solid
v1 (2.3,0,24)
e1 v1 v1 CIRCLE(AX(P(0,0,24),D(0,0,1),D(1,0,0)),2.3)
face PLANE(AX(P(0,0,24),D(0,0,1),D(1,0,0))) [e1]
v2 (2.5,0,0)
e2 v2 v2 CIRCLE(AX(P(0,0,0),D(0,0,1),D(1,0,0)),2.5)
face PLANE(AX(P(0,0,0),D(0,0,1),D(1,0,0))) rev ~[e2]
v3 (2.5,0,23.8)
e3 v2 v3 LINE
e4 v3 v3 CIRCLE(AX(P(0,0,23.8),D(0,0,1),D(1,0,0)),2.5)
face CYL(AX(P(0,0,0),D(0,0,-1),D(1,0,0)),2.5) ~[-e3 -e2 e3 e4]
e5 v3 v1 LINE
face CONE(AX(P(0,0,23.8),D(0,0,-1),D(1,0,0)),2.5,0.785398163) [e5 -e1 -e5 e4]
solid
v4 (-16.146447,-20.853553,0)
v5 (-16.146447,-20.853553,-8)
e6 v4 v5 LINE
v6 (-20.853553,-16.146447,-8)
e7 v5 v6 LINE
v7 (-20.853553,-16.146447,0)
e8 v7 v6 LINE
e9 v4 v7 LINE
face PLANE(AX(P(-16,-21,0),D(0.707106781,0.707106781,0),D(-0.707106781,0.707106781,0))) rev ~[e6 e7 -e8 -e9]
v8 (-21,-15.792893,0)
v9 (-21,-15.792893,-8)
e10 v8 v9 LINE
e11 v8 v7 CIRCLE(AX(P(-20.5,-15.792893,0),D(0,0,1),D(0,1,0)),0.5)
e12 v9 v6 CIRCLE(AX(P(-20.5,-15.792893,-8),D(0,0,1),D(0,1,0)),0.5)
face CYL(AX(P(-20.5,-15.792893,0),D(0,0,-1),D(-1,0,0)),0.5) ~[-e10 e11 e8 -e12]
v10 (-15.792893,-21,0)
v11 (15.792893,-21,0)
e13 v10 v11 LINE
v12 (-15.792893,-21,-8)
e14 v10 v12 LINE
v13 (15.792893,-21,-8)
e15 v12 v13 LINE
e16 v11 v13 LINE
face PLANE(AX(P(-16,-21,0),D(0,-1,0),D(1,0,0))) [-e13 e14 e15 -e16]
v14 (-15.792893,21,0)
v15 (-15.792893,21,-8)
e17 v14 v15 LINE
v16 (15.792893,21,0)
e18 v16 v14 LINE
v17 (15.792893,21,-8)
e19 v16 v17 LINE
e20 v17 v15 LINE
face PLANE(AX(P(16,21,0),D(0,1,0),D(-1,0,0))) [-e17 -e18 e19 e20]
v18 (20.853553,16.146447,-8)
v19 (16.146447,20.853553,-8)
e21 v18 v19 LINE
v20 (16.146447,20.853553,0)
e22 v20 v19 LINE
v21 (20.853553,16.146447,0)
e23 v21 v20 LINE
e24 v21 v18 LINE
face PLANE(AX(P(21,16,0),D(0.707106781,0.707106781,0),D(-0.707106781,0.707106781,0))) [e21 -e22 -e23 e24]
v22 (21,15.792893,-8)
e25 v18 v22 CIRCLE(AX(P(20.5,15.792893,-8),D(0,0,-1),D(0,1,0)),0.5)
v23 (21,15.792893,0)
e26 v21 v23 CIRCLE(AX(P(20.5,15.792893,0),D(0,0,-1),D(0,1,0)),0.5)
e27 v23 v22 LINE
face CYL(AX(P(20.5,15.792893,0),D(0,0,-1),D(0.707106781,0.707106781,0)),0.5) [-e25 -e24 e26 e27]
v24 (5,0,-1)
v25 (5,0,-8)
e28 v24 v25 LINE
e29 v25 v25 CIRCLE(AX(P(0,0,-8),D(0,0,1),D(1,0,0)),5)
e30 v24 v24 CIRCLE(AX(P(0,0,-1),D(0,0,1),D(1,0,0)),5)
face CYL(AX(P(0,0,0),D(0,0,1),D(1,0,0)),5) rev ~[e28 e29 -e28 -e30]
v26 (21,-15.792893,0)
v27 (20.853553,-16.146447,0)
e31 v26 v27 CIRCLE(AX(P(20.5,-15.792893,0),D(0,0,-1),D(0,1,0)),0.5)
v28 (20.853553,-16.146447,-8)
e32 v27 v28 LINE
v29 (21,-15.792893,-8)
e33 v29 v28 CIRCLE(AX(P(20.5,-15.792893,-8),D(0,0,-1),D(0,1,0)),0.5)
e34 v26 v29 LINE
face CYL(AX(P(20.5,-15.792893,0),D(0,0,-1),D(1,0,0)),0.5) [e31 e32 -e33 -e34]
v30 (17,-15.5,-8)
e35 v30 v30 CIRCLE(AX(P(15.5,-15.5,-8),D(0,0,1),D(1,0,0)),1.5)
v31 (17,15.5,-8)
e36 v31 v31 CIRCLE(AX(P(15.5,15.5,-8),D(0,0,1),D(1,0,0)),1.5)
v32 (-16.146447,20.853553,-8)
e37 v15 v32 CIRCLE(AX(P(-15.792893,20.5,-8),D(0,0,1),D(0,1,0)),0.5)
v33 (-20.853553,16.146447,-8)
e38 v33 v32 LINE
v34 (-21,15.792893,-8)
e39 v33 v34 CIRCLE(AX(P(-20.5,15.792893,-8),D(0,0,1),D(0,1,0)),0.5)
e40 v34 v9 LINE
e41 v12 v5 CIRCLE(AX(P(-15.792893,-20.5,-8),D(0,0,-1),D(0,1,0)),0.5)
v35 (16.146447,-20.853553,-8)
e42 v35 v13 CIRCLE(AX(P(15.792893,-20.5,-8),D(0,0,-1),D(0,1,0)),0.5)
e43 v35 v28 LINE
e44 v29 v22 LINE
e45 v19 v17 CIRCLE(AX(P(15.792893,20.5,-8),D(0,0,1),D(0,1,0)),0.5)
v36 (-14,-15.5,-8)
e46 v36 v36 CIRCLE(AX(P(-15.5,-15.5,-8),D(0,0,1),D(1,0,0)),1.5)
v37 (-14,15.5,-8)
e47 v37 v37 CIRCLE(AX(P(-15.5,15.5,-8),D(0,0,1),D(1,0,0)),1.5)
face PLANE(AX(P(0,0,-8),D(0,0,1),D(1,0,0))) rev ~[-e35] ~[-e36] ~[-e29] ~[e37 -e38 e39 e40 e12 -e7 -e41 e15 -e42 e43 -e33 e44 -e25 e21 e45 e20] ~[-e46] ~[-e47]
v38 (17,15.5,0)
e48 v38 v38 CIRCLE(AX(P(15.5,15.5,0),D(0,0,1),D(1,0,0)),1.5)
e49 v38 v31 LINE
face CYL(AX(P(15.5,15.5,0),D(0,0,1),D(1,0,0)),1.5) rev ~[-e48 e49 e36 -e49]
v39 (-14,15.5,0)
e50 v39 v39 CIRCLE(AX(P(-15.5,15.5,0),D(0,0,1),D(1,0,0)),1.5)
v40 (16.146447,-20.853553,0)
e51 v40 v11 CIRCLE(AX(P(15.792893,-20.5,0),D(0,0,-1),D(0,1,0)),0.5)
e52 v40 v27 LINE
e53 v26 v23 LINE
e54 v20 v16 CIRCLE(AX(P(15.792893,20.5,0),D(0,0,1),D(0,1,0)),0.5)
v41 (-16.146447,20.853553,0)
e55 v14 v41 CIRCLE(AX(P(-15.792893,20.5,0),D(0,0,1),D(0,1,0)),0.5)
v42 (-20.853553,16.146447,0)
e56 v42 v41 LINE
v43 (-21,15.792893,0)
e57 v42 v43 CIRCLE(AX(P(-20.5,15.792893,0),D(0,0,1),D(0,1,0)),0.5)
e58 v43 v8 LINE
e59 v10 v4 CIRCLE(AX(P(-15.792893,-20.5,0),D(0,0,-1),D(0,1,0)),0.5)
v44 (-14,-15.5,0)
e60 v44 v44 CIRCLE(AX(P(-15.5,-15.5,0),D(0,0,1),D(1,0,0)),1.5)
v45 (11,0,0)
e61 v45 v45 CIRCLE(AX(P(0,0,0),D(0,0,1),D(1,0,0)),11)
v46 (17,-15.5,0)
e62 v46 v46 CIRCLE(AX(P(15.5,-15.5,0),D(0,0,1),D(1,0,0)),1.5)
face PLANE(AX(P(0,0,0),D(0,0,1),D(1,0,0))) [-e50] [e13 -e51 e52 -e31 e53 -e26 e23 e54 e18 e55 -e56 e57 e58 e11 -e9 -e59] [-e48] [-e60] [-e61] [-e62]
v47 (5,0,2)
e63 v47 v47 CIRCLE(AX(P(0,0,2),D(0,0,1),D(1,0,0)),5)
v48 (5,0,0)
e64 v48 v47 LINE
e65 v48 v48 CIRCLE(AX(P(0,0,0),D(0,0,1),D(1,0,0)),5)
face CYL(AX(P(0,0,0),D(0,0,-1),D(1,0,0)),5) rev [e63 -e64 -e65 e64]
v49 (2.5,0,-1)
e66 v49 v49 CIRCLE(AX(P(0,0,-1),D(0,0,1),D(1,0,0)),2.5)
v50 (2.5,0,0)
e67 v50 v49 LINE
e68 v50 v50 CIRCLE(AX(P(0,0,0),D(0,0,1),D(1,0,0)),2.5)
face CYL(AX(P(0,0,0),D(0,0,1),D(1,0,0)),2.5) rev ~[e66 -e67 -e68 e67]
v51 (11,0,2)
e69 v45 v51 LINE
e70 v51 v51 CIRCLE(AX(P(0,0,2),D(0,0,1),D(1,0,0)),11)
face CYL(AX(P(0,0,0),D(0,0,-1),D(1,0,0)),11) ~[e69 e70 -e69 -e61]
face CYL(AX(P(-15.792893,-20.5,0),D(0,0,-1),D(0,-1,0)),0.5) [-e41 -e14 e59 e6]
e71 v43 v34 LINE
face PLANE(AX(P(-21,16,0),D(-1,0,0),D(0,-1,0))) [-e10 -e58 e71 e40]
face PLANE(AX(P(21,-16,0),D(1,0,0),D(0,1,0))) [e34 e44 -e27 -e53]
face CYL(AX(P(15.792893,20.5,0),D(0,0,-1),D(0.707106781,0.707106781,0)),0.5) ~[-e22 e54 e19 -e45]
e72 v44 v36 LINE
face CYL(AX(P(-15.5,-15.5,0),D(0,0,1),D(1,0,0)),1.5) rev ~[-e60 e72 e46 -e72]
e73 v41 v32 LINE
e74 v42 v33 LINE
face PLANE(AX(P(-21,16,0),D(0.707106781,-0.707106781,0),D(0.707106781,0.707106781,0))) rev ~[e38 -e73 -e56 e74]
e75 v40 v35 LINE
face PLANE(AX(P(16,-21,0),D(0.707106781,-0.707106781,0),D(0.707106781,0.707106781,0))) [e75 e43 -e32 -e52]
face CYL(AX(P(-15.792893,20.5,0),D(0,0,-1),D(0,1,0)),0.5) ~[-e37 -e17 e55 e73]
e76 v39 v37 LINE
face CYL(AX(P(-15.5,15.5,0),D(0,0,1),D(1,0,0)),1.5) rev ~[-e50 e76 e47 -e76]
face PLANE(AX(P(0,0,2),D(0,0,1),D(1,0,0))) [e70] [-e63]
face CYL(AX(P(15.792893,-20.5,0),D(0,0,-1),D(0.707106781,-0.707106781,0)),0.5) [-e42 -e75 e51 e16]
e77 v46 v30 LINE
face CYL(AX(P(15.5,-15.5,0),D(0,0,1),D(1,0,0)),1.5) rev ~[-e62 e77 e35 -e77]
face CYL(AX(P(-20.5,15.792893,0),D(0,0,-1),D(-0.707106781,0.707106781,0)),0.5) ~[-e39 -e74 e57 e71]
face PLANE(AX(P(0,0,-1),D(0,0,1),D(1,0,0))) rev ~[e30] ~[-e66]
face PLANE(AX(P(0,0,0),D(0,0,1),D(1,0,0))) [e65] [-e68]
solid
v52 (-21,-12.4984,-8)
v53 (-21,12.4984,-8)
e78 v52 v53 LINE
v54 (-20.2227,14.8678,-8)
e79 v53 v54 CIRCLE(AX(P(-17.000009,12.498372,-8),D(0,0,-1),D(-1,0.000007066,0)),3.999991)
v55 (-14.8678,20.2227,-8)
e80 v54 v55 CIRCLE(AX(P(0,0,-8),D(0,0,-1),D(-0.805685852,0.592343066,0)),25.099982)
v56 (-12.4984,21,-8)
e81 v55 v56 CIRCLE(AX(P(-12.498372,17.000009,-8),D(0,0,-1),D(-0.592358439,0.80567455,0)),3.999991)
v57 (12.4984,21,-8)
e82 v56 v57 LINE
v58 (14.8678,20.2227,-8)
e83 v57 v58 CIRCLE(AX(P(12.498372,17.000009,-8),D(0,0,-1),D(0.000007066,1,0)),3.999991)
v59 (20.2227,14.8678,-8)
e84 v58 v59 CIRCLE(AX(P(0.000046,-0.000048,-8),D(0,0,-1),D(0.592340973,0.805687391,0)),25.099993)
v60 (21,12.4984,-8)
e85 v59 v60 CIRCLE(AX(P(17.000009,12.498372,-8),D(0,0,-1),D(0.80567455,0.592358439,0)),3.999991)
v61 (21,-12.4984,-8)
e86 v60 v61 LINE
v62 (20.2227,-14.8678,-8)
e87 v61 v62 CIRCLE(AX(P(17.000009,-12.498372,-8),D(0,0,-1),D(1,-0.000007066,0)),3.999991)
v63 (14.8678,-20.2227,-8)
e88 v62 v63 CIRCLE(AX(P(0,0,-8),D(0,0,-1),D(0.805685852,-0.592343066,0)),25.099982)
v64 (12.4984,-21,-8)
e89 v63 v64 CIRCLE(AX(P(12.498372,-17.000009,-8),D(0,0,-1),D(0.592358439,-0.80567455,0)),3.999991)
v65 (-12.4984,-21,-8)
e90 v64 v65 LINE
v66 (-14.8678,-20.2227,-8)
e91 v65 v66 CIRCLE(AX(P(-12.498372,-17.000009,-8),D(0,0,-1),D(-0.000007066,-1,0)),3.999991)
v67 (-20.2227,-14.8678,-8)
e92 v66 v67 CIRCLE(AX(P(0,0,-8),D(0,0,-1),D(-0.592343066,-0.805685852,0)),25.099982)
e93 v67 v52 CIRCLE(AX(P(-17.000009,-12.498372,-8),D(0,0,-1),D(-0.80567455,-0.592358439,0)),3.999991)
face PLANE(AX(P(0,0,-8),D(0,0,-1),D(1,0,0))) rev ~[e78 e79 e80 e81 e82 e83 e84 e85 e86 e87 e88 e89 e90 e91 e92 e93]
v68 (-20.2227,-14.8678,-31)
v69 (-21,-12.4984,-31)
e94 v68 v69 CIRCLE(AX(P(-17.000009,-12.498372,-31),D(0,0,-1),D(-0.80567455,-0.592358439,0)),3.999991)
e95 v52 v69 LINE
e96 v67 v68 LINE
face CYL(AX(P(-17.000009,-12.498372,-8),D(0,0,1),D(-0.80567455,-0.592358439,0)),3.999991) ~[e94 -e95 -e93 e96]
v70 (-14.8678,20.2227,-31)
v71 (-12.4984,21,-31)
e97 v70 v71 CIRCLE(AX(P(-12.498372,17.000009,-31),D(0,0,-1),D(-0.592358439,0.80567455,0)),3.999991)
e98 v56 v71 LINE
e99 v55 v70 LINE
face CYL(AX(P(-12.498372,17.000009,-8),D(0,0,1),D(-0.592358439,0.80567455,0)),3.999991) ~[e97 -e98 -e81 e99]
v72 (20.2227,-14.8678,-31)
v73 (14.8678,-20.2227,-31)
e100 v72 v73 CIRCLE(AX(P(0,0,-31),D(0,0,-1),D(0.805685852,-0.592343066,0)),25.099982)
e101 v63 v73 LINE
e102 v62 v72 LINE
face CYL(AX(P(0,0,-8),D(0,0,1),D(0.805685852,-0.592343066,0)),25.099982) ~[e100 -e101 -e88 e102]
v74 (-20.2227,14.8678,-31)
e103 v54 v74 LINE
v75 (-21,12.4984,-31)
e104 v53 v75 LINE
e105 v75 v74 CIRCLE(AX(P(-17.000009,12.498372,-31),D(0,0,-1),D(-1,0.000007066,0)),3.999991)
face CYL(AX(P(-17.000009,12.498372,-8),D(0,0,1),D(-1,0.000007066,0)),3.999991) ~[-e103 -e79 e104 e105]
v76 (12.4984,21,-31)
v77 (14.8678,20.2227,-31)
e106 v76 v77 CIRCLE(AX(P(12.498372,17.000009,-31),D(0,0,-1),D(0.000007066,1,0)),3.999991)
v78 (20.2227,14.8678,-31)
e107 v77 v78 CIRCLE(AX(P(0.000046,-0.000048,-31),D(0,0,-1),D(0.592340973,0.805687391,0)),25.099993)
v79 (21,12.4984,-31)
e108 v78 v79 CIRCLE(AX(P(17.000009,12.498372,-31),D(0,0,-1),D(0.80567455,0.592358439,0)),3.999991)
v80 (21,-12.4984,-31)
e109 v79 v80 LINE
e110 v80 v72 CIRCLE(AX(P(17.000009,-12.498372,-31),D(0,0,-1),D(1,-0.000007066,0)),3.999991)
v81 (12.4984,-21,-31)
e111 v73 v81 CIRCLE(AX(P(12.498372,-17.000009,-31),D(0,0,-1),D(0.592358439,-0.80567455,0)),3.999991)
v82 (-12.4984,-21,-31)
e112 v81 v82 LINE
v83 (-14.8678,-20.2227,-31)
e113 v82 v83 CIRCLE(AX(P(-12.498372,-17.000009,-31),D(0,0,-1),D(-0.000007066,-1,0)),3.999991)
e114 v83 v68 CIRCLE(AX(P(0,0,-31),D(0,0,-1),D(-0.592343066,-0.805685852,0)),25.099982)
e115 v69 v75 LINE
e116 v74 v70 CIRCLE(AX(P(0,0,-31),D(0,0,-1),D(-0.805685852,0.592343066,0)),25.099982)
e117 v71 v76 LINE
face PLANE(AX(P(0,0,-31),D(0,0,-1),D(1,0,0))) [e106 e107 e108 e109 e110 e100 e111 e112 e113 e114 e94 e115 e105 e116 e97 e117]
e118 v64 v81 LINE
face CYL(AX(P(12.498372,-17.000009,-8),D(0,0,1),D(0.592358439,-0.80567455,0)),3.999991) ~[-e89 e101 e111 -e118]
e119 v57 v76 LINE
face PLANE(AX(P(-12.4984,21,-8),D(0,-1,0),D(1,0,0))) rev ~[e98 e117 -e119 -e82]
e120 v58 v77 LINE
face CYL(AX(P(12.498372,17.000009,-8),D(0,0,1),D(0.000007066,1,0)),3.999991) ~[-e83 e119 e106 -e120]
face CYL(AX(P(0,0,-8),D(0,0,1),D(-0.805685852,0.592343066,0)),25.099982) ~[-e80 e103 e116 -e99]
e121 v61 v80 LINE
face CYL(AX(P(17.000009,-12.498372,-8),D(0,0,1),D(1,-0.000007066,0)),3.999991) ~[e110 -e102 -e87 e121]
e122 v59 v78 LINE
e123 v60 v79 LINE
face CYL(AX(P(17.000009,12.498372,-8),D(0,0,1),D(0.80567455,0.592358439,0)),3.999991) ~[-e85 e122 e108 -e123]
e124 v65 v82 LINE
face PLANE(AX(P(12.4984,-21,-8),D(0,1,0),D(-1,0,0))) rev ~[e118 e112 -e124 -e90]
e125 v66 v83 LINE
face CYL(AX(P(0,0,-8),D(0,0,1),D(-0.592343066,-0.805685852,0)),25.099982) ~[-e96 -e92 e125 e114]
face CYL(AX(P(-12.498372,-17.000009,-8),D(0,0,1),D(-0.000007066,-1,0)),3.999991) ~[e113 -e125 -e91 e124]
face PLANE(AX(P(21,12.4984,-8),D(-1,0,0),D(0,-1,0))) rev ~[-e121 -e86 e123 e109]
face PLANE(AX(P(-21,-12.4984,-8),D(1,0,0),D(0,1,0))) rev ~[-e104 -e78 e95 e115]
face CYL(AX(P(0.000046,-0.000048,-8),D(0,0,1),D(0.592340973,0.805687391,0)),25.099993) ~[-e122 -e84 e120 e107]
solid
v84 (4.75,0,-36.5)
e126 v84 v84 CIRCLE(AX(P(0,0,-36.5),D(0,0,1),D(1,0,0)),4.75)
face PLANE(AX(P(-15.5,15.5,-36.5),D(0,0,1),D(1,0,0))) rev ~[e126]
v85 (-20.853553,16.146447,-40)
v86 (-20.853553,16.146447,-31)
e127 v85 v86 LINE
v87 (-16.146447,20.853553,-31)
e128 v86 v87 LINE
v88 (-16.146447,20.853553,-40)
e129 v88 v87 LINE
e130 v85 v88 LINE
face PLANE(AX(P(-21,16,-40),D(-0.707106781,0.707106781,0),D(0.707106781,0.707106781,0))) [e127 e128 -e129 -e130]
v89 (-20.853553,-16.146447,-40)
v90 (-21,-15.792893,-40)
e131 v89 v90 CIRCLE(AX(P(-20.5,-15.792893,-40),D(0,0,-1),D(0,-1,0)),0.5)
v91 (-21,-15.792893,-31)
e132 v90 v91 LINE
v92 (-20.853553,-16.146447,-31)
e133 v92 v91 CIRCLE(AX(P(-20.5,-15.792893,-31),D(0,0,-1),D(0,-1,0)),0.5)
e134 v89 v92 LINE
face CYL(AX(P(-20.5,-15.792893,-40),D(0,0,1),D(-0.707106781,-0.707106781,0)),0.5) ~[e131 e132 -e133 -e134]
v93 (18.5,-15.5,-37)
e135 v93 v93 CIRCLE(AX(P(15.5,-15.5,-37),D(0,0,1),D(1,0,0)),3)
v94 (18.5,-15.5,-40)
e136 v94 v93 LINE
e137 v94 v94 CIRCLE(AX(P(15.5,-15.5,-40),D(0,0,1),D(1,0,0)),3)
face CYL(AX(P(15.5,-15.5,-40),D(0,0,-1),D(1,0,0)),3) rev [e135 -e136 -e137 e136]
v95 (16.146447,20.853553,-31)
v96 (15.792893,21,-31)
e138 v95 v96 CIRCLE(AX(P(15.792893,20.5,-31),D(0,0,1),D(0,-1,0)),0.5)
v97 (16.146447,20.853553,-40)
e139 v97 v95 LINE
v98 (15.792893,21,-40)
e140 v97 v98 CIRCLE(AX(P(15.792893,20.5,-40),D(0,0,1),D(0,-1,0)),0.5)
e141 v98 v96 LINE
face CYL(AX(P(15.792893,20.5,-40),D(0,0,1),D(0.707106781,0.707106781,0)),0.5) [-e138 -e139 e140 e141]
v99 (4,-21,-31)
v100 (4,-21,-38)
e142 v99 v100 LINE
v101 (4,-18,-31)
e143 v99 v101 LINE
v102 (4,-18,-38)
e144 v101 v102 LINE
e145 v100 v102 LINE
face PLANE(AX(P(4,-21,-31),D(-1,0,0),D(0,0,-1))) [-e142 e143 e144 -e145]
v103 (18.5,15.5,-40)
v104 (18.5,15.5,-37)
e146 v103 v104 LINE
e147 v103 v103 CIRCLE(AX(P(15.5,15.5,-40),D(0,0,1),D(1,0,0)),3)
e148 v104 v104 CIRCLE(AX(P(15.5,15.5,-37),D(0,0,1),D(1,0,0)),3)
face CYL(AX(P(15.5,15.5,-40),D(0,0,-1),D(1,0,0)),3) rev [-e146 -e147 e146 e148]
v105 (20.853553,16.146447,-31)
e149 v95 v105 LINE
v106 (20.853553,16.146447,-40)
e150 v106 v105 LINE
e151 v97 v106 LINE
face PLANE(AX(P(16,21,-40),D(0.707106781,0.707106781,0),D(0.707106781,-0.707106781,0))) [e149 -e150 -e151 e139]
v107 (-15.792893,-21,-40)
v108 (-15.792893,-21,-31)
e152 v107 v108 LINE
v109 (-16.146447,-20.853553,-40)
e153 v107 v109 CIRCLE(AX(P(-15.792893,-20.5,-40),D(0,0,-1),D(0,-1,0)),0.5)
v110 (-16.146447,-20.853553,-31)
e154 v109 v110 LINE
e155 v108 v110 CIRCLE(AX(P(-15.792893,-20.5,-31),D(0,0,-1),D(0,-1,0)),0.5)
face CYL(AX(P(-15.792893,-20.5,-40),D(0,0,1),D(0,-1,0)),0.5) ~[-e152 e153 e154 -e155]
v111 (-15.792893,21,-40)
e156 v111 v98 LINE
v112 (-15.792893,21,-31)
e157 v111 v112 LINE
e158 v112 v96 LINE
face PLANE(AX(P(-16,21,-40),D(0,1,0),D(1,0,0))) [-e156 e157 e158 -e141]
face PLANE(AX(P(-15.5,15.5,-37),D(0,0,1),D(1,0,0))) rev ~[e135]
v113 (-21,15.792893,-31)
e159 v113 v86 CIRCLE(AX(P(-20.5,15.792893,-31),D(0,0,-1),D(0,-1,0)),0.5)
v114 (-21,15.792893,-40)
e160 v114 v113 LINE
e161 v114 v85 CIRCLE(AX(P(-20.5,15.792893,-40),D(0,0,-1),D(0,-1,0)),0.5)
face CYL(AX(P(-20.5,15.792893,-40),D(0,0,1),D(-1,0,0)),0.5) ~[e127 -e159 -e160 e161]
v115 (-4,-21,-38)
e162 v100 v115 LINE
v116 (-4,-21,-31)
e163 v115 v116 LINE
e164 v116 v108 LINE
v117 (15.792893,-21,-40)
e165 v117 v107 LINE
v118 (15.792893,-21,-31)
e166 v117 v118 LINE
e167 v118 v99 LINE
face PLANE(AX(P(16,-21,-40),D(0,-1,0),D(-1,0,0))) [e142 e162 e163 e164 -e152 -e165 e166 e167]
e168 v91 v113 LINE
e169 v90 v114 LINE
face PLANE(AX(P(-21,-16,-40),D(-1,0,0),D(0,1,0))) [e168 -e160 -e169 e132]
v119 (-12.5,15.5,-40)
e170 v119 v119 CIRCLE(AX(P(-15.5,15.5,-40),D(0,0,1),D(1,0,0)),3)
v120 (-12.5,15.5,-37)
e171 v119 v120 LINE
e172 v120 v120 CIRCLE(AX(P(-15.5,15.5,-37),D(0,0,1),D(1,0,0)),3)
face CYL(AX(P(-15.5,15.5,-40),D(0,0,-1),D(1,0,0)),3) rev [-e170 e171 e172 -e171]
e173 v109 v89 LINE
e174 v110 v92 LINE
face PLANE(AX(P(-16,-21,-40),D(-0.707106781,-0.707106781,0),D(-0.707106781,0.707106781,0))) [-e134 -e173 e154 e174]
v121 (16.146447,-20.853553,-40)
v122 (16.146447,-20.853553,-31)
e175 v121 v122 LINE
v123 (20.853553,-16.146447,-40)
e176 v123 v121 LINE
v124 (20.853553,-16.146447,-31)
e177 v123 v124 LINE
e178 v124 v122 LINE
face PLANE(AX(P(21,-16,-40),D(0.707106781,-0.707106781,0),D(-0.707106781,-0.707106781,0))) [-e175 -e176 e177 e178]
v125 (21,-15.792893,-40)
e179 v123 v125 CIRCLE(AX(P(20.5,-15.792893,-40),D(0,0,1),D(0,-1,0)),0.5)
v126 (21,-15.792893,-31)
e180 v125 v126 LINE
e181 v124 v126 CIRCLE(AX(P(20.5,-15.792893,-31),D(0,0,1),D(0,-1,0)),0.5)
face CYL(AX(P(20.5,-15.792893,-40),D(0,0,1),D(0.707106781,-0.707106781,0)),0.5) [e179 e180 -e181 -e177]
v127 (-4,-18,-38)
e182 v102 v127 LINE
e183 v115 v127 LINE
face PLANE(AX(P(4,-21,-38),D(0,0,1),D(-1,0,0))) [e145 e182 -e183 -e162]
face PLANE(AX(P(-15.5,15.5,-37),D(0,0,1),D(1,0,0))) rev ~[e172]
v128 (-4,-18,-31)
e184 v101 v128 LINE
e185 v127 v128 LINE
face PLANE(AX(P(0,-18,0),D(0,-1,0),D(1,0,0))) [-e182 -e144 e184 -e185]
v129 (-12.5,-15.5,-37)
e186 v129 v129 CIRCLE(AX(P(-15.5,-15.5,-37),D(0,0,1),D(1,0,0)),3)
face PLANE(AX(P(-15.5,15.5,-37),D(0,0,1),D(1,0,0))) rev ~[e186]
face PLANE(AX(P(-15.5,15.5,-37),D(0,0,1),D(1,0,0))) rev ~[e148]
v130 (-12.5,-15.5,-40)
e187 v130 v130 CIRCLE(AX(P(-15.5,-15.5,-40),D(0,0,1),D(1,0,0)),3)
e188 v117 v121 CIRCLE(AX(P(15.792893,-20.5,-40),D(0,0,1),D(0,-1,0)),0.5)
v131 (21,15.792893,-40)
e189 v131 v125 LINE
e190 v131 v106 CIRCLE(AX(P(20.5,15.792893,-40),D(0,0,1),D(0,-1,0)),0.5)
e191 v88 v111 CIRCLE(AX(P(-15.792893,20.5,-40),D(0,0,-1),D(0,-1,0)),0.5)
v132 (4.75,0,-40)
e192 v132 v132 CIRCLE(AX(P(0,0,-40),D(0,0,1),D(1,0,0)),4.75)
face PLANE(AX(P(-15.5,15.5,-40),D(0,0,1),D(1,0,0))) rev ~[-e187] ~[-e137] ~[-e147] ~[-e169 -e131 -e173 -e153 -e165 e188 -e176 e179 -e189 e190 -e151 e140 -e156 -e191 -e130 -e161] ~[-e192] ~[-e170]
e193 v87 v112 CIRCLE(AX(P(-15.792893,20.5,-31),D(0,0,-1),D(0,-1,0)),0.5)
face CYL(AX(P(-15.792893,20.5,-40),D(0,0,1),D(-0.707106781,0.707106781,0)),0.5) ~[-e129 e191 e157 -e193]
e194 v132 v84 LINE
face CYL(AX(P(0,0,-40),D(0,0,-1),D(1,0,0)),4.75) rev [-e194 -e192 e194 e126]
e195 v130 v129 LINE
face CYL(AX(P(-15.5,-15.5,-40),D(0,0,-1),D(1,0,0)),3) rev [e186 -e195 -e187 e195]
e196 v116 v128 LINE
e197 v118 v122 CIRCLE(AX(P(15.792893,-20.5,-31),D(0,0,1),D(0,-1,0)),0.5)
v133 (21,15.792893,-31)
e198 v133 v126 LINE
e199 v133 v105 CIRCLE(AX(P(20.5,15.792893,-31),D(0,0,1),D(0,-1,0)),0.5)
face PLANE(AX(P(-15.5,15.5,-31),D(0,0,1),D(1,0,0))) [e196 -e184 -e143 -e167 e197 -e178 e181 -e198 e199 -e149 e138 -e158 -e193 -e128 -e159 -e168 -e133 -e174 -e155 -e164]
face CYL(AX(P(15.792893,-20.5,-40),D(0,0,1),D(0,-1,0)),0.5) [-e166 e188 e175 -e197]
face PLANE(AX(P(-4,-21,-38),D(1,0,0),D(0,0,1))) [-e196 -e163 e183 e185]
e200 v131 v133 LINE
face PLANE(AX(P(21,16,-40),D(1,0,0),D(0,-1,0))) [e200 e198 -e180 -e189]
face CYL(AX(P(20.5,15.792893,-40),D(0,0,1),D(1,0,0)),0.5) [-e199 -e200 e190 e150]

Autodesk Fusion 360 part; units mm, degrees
sketch "Sketch1" plane through (0, 0, 0) normal (0, 0, 1) x (1, 0, 0) in component "Component"
  line L0 (16, 21) -> (-16, 21)
  line L1 (-21, 16) -> (-21, -16)
  line L2 (-16, -21) -> (16, -21)
  line L3 (21, -16) -> (21, 16)
  line L4 (21, 21) -> (-21, -21) construction
  line L5 (-21, 21) -> (21, -21) construction
  line L6 (-15.6506, 22.8547) -> (-16, 22.8547)
  line L7 (-21, 16) -> (-16, 21)
  line L8 (21, 16) -> (16, 21)
  line L9 (-16, -21) -> (-21, -16)
  line L10 (16, -21) -> (21, -16)
  circle A0 centre (-15.5, 15.5) radius 1.5
  circle A1 centre (15.5, 15.5) radius 1.5
  circle A2 centre (15.5, -15.5) radius 1.5
  circle A3 centre (-15.5, -15.5) radius 1.5
  circle A4 centre (0, 0) radius 11
  circle A5 centre (0, 0) radius 5
  circle A6 centre (0, 0) radius 2.5
  line L11 (-15.5, 15.5) -> (24, 15.5) construction
  line L12 (-15.5, -15.5) -> (24, -15.5) construction
  line L13 (15.5, 29) -> (15.5, -23) construction
  dimension "d3" = 3
  dimension "d4" = 15.5
  dimension "d5" = 15.5
  dimension "d6" = 5
  dimension "d58" = 15.5
extrude "Extrude1" add sketch "Sketch1" along normal blind 2 contours A4 makes body 1 in component "Component"
extrude "Extrude2" add sketch "Sketch1" along normal blind 24 separate body contours A6 makes body 2 in component "Component"
extrude "Extrude3" add sketch "Sketch1" against normal blind 1 separate body contours A5 makes body 3 in component "Component"
extrude "Extrude4" add sketch "Sketch1" against normal blind 8 contours L0 L1 L2 L3 L7 L8 L9 L10 | A4 bodies 1 3 in component "Component"
sketch "Sketch2" plane through (0, 0, -8) normal (0, 0, -1) x (1, 0, 0) in component "Component"
  circle A0 centre (15.5, 15.5) radius 1.5
  circle A1 centre (15.5, -15.5) radius 1.5
  circle A2 centre (0, 0) radius 5
  circle A3 centre (-15.5, 15.5) radius 1.5
  circle A4 centre (-15.5, -15.5) radius 1.5
  line L0 (16, 21) -> (-16, 21)
  line L1 (-16, 21) -> (-21, 16)
  line L2 (-21, 16) -> (-21, -16)
  line L3 (-21, -16) -> (-16, -21)
  line L4 (-16, -21) -> (16, -21)
  line L5 (16, -21) -> (21, -16)
  line L6 (21, -16) -> (21, 16)
  line L7 (21, 16) -> (16, 21)
  line L8 (12.4984, 21) -> (-12.4984, 21)
  line L9 (-21, 12.4984) -> (-21, -12.4984)
  line L10 (-12.4984, -21) -> (12.4984, -21)
  line L11 (21, -12.4984) -> (21, 12.4984)
  line L12 (21, 21) -> (-21, -21) construction
  line L13 (-21, 21) -> (21, -21) construction
  arc A5 (-14.8678, 20.2227) -> (-20.2227, 14.8678) centre (0, 0) ccw
  arc A6 (20.2227, 14.8678) -> (14.8678, 20.2227) centre (0, 0) ccw
  arc A7 (-20.2227, -14.8678) -> (-14.8678, -20.2227) centre (0, 0) ccw
  arc A8 (14.8678, -20.2227) -> (21, -13.7481) centre (0, 0) ccw
  arc A9 (-12.4984, 21) -> (-14.8678, 20.2227) centre (-12.4984, 17) ccw
  arc A10 (-20.2227, 14.8678) -> (-21, 12.4984) centre (-17, 12.4984) ccw
  arc A11 (14.8678, 20.2227) -> (12.4984, 21) centre (12.4984, 17) ccw
  arc A12 (20.2227, -14.8678) -> (21, -12.4984) centre (17, -12.4984) ccw
  arc A13 (21, 12.4984) -> (20.2227, 14.8678) centre (17, 12.4984) ccw
  arc A14 (12.4984, -21) -> (14.8678, -20.2227) centre (12.4984, -17) ccw
  arc A15 (-14.8678, -20.2227) -> (-12.4984, -21) centre (-12.4984, -17) ccw
  arc A16 (-21, -12.4984) -> (-20.2227, -14.8678) centre (-17, -12.4984) ccw
  dimension "d15" = 42
  dimension "d16" = 42
  dimension "d17" = 50.2
  dimension "d18" = 4
  dimension "d19" = 4
  dimension "d20" = 4
  dimension "d21" = 4
  dimension "d22" = 4
  dimension "d23" = 4
  dimension "d24" = 4
  dimension "d25" = 4
extrude "Extrude5" add sketch "Sketch2" along normal blind 23 separate body contours A0 | A1 | A2 | A3 | A4 | L0 L2 L4 L6 L8 L9 L10 L11 A5 A6 A7 A8 A9 A10 A11 A12 A13 A14 A15 A16 makes body 4 in component "Component"
ref_plane "WorkPlane1" through (0, 0, -40) normal (0, 0, 1) x (1, 0, 0) in component "Component"
sketch "Sketch3" plane through (-15.5, 15.5, -40) normal (0, 0, 1) x (1, 0, 0) in component "Component"
  circle A0 centre (15.5, -15.5) radius 4.75
  line L0 (31.5, -36.5) -> (-0.5, -36.5)
  line L1 (-0.5, -36.5) -> (-5.5, -31.5)
  line L2 (-5.5, -31.5) -> (-5.5, 0.5)
  line L3 (-5.5, 0.5) -> (-0.5, 5.5)
  line L4 (-0.5, 5.5) -> (31.5, 5.5)
  line L5 (31.5, 5.5) -> (36.5, 0.5)
  line L6 (36.5, 0.5) -> (36.5, -31.5)
  line L7 (36.5, -31.5) -> (31.5, -36.5)
  circle A1 centre (31, -31) radius 3
  circle A2 centre (31, 0) radius 3
  circle A3 centre (0, -31) radius 3
  circle A4 centre (0, 0) radius 3
  dimension "d29" = 6
  dimension "d30" = 6
  dimension "d31" = 6
  dimension "d32" = 6
  dimension "d33" = 9.5
extrude "Extrude6" add sketch "Sketch3" along normal blind 9 separate body contours A0 | L0 L1 L2 L3 L4 L5 L6 L7 | A1 | A2 | A3 | A4 makes body 5 in component "Component"
extrude "Extrude8" cut sketch "Sketch3" along normal blind 3 contours A1 | A2 | A3 | A4 bodies 5 in component "Component"
extrude "Extrude9" cut sketch "Sketch3" along normal blind 3.5 contours A0 bodies 5 in component "Component"
chamfer "Chamfer1" distance 0.2 angle 45 1 edges at (-2.3308, -0.904, 24) on bodies 2 in component "Component"
fillet "Fillet1" radius 0.5 16 edges at (16, 21, -4) (21, 16, -4) (21, -16, -4) (16, -21, -4) (-16, -21, -4) (-21, -16, -4) (-21, 16, -4) (-16, 21, -4) (16, 21, -35.5) (21, 16, -35.5) (21, -16, -35.5) (16, -21, -35.5) (-21, -16, -35.5) (-16, -21, -35.5) (-16, 21, -35.5) (-21, 16, -35.5) on bodies 1 5 in component "Component"
sketch "Sketch4" plane through (0, -21, 0) normal (0, -1, 0) x (1, 0, 0) in component "Component"
  line L0 (-15.7929, -31) -> (-15.7929, -40)
  line L1 (-15.7929, -40) -> (15.7929, -40)
  line L2 (15.7929, -40) -> (15.7929, -31)
  line L3 (15.7929, -31) -> (-15.7929, -31)
  line L4 (-4, -31) -> (4, -31)
  line L5 (4, -31) -> (4, -38)
  line L6 (4, -38) -> (-4, -38)
  line L7 (-4, -38) -> (-4, -31)
  line L8 (0, -40) -> (0, -26) construction
  dimension "d53" = 8
  dimension "d54" = 7
  dimension "d55" = 4
extrude "Extrude10" cut sketch "Sketch4" against normal blind 3 contours L3 L4 L5 L6 L7 bodies 5 in component "Component"
thread "Thread1" thread length 5 thread offset 0 in component "Component"
thread "Thread2" thread length 5 thread offset 0 in component "Component"
component "Component" placed x (1, 0, 0) y (0, 1, 0) z (0, 0, 1) at (0, 0, 0)
equation "d4 = ( 31 / 2 ) * 1 mm"
equation "d5 = d4"
equation "d9 = AxleLength"
equation "d26 = MotorLength - BackCoverLength - FrontCoverLength"
equation "d34 = BackCoverLength"
equation "MotorLength = 40 mm"
equation "AxleLength = 24 mm"
equation "FrontCoverLength = 8 mm"
equation "BackCoverLength = 9 mm"
